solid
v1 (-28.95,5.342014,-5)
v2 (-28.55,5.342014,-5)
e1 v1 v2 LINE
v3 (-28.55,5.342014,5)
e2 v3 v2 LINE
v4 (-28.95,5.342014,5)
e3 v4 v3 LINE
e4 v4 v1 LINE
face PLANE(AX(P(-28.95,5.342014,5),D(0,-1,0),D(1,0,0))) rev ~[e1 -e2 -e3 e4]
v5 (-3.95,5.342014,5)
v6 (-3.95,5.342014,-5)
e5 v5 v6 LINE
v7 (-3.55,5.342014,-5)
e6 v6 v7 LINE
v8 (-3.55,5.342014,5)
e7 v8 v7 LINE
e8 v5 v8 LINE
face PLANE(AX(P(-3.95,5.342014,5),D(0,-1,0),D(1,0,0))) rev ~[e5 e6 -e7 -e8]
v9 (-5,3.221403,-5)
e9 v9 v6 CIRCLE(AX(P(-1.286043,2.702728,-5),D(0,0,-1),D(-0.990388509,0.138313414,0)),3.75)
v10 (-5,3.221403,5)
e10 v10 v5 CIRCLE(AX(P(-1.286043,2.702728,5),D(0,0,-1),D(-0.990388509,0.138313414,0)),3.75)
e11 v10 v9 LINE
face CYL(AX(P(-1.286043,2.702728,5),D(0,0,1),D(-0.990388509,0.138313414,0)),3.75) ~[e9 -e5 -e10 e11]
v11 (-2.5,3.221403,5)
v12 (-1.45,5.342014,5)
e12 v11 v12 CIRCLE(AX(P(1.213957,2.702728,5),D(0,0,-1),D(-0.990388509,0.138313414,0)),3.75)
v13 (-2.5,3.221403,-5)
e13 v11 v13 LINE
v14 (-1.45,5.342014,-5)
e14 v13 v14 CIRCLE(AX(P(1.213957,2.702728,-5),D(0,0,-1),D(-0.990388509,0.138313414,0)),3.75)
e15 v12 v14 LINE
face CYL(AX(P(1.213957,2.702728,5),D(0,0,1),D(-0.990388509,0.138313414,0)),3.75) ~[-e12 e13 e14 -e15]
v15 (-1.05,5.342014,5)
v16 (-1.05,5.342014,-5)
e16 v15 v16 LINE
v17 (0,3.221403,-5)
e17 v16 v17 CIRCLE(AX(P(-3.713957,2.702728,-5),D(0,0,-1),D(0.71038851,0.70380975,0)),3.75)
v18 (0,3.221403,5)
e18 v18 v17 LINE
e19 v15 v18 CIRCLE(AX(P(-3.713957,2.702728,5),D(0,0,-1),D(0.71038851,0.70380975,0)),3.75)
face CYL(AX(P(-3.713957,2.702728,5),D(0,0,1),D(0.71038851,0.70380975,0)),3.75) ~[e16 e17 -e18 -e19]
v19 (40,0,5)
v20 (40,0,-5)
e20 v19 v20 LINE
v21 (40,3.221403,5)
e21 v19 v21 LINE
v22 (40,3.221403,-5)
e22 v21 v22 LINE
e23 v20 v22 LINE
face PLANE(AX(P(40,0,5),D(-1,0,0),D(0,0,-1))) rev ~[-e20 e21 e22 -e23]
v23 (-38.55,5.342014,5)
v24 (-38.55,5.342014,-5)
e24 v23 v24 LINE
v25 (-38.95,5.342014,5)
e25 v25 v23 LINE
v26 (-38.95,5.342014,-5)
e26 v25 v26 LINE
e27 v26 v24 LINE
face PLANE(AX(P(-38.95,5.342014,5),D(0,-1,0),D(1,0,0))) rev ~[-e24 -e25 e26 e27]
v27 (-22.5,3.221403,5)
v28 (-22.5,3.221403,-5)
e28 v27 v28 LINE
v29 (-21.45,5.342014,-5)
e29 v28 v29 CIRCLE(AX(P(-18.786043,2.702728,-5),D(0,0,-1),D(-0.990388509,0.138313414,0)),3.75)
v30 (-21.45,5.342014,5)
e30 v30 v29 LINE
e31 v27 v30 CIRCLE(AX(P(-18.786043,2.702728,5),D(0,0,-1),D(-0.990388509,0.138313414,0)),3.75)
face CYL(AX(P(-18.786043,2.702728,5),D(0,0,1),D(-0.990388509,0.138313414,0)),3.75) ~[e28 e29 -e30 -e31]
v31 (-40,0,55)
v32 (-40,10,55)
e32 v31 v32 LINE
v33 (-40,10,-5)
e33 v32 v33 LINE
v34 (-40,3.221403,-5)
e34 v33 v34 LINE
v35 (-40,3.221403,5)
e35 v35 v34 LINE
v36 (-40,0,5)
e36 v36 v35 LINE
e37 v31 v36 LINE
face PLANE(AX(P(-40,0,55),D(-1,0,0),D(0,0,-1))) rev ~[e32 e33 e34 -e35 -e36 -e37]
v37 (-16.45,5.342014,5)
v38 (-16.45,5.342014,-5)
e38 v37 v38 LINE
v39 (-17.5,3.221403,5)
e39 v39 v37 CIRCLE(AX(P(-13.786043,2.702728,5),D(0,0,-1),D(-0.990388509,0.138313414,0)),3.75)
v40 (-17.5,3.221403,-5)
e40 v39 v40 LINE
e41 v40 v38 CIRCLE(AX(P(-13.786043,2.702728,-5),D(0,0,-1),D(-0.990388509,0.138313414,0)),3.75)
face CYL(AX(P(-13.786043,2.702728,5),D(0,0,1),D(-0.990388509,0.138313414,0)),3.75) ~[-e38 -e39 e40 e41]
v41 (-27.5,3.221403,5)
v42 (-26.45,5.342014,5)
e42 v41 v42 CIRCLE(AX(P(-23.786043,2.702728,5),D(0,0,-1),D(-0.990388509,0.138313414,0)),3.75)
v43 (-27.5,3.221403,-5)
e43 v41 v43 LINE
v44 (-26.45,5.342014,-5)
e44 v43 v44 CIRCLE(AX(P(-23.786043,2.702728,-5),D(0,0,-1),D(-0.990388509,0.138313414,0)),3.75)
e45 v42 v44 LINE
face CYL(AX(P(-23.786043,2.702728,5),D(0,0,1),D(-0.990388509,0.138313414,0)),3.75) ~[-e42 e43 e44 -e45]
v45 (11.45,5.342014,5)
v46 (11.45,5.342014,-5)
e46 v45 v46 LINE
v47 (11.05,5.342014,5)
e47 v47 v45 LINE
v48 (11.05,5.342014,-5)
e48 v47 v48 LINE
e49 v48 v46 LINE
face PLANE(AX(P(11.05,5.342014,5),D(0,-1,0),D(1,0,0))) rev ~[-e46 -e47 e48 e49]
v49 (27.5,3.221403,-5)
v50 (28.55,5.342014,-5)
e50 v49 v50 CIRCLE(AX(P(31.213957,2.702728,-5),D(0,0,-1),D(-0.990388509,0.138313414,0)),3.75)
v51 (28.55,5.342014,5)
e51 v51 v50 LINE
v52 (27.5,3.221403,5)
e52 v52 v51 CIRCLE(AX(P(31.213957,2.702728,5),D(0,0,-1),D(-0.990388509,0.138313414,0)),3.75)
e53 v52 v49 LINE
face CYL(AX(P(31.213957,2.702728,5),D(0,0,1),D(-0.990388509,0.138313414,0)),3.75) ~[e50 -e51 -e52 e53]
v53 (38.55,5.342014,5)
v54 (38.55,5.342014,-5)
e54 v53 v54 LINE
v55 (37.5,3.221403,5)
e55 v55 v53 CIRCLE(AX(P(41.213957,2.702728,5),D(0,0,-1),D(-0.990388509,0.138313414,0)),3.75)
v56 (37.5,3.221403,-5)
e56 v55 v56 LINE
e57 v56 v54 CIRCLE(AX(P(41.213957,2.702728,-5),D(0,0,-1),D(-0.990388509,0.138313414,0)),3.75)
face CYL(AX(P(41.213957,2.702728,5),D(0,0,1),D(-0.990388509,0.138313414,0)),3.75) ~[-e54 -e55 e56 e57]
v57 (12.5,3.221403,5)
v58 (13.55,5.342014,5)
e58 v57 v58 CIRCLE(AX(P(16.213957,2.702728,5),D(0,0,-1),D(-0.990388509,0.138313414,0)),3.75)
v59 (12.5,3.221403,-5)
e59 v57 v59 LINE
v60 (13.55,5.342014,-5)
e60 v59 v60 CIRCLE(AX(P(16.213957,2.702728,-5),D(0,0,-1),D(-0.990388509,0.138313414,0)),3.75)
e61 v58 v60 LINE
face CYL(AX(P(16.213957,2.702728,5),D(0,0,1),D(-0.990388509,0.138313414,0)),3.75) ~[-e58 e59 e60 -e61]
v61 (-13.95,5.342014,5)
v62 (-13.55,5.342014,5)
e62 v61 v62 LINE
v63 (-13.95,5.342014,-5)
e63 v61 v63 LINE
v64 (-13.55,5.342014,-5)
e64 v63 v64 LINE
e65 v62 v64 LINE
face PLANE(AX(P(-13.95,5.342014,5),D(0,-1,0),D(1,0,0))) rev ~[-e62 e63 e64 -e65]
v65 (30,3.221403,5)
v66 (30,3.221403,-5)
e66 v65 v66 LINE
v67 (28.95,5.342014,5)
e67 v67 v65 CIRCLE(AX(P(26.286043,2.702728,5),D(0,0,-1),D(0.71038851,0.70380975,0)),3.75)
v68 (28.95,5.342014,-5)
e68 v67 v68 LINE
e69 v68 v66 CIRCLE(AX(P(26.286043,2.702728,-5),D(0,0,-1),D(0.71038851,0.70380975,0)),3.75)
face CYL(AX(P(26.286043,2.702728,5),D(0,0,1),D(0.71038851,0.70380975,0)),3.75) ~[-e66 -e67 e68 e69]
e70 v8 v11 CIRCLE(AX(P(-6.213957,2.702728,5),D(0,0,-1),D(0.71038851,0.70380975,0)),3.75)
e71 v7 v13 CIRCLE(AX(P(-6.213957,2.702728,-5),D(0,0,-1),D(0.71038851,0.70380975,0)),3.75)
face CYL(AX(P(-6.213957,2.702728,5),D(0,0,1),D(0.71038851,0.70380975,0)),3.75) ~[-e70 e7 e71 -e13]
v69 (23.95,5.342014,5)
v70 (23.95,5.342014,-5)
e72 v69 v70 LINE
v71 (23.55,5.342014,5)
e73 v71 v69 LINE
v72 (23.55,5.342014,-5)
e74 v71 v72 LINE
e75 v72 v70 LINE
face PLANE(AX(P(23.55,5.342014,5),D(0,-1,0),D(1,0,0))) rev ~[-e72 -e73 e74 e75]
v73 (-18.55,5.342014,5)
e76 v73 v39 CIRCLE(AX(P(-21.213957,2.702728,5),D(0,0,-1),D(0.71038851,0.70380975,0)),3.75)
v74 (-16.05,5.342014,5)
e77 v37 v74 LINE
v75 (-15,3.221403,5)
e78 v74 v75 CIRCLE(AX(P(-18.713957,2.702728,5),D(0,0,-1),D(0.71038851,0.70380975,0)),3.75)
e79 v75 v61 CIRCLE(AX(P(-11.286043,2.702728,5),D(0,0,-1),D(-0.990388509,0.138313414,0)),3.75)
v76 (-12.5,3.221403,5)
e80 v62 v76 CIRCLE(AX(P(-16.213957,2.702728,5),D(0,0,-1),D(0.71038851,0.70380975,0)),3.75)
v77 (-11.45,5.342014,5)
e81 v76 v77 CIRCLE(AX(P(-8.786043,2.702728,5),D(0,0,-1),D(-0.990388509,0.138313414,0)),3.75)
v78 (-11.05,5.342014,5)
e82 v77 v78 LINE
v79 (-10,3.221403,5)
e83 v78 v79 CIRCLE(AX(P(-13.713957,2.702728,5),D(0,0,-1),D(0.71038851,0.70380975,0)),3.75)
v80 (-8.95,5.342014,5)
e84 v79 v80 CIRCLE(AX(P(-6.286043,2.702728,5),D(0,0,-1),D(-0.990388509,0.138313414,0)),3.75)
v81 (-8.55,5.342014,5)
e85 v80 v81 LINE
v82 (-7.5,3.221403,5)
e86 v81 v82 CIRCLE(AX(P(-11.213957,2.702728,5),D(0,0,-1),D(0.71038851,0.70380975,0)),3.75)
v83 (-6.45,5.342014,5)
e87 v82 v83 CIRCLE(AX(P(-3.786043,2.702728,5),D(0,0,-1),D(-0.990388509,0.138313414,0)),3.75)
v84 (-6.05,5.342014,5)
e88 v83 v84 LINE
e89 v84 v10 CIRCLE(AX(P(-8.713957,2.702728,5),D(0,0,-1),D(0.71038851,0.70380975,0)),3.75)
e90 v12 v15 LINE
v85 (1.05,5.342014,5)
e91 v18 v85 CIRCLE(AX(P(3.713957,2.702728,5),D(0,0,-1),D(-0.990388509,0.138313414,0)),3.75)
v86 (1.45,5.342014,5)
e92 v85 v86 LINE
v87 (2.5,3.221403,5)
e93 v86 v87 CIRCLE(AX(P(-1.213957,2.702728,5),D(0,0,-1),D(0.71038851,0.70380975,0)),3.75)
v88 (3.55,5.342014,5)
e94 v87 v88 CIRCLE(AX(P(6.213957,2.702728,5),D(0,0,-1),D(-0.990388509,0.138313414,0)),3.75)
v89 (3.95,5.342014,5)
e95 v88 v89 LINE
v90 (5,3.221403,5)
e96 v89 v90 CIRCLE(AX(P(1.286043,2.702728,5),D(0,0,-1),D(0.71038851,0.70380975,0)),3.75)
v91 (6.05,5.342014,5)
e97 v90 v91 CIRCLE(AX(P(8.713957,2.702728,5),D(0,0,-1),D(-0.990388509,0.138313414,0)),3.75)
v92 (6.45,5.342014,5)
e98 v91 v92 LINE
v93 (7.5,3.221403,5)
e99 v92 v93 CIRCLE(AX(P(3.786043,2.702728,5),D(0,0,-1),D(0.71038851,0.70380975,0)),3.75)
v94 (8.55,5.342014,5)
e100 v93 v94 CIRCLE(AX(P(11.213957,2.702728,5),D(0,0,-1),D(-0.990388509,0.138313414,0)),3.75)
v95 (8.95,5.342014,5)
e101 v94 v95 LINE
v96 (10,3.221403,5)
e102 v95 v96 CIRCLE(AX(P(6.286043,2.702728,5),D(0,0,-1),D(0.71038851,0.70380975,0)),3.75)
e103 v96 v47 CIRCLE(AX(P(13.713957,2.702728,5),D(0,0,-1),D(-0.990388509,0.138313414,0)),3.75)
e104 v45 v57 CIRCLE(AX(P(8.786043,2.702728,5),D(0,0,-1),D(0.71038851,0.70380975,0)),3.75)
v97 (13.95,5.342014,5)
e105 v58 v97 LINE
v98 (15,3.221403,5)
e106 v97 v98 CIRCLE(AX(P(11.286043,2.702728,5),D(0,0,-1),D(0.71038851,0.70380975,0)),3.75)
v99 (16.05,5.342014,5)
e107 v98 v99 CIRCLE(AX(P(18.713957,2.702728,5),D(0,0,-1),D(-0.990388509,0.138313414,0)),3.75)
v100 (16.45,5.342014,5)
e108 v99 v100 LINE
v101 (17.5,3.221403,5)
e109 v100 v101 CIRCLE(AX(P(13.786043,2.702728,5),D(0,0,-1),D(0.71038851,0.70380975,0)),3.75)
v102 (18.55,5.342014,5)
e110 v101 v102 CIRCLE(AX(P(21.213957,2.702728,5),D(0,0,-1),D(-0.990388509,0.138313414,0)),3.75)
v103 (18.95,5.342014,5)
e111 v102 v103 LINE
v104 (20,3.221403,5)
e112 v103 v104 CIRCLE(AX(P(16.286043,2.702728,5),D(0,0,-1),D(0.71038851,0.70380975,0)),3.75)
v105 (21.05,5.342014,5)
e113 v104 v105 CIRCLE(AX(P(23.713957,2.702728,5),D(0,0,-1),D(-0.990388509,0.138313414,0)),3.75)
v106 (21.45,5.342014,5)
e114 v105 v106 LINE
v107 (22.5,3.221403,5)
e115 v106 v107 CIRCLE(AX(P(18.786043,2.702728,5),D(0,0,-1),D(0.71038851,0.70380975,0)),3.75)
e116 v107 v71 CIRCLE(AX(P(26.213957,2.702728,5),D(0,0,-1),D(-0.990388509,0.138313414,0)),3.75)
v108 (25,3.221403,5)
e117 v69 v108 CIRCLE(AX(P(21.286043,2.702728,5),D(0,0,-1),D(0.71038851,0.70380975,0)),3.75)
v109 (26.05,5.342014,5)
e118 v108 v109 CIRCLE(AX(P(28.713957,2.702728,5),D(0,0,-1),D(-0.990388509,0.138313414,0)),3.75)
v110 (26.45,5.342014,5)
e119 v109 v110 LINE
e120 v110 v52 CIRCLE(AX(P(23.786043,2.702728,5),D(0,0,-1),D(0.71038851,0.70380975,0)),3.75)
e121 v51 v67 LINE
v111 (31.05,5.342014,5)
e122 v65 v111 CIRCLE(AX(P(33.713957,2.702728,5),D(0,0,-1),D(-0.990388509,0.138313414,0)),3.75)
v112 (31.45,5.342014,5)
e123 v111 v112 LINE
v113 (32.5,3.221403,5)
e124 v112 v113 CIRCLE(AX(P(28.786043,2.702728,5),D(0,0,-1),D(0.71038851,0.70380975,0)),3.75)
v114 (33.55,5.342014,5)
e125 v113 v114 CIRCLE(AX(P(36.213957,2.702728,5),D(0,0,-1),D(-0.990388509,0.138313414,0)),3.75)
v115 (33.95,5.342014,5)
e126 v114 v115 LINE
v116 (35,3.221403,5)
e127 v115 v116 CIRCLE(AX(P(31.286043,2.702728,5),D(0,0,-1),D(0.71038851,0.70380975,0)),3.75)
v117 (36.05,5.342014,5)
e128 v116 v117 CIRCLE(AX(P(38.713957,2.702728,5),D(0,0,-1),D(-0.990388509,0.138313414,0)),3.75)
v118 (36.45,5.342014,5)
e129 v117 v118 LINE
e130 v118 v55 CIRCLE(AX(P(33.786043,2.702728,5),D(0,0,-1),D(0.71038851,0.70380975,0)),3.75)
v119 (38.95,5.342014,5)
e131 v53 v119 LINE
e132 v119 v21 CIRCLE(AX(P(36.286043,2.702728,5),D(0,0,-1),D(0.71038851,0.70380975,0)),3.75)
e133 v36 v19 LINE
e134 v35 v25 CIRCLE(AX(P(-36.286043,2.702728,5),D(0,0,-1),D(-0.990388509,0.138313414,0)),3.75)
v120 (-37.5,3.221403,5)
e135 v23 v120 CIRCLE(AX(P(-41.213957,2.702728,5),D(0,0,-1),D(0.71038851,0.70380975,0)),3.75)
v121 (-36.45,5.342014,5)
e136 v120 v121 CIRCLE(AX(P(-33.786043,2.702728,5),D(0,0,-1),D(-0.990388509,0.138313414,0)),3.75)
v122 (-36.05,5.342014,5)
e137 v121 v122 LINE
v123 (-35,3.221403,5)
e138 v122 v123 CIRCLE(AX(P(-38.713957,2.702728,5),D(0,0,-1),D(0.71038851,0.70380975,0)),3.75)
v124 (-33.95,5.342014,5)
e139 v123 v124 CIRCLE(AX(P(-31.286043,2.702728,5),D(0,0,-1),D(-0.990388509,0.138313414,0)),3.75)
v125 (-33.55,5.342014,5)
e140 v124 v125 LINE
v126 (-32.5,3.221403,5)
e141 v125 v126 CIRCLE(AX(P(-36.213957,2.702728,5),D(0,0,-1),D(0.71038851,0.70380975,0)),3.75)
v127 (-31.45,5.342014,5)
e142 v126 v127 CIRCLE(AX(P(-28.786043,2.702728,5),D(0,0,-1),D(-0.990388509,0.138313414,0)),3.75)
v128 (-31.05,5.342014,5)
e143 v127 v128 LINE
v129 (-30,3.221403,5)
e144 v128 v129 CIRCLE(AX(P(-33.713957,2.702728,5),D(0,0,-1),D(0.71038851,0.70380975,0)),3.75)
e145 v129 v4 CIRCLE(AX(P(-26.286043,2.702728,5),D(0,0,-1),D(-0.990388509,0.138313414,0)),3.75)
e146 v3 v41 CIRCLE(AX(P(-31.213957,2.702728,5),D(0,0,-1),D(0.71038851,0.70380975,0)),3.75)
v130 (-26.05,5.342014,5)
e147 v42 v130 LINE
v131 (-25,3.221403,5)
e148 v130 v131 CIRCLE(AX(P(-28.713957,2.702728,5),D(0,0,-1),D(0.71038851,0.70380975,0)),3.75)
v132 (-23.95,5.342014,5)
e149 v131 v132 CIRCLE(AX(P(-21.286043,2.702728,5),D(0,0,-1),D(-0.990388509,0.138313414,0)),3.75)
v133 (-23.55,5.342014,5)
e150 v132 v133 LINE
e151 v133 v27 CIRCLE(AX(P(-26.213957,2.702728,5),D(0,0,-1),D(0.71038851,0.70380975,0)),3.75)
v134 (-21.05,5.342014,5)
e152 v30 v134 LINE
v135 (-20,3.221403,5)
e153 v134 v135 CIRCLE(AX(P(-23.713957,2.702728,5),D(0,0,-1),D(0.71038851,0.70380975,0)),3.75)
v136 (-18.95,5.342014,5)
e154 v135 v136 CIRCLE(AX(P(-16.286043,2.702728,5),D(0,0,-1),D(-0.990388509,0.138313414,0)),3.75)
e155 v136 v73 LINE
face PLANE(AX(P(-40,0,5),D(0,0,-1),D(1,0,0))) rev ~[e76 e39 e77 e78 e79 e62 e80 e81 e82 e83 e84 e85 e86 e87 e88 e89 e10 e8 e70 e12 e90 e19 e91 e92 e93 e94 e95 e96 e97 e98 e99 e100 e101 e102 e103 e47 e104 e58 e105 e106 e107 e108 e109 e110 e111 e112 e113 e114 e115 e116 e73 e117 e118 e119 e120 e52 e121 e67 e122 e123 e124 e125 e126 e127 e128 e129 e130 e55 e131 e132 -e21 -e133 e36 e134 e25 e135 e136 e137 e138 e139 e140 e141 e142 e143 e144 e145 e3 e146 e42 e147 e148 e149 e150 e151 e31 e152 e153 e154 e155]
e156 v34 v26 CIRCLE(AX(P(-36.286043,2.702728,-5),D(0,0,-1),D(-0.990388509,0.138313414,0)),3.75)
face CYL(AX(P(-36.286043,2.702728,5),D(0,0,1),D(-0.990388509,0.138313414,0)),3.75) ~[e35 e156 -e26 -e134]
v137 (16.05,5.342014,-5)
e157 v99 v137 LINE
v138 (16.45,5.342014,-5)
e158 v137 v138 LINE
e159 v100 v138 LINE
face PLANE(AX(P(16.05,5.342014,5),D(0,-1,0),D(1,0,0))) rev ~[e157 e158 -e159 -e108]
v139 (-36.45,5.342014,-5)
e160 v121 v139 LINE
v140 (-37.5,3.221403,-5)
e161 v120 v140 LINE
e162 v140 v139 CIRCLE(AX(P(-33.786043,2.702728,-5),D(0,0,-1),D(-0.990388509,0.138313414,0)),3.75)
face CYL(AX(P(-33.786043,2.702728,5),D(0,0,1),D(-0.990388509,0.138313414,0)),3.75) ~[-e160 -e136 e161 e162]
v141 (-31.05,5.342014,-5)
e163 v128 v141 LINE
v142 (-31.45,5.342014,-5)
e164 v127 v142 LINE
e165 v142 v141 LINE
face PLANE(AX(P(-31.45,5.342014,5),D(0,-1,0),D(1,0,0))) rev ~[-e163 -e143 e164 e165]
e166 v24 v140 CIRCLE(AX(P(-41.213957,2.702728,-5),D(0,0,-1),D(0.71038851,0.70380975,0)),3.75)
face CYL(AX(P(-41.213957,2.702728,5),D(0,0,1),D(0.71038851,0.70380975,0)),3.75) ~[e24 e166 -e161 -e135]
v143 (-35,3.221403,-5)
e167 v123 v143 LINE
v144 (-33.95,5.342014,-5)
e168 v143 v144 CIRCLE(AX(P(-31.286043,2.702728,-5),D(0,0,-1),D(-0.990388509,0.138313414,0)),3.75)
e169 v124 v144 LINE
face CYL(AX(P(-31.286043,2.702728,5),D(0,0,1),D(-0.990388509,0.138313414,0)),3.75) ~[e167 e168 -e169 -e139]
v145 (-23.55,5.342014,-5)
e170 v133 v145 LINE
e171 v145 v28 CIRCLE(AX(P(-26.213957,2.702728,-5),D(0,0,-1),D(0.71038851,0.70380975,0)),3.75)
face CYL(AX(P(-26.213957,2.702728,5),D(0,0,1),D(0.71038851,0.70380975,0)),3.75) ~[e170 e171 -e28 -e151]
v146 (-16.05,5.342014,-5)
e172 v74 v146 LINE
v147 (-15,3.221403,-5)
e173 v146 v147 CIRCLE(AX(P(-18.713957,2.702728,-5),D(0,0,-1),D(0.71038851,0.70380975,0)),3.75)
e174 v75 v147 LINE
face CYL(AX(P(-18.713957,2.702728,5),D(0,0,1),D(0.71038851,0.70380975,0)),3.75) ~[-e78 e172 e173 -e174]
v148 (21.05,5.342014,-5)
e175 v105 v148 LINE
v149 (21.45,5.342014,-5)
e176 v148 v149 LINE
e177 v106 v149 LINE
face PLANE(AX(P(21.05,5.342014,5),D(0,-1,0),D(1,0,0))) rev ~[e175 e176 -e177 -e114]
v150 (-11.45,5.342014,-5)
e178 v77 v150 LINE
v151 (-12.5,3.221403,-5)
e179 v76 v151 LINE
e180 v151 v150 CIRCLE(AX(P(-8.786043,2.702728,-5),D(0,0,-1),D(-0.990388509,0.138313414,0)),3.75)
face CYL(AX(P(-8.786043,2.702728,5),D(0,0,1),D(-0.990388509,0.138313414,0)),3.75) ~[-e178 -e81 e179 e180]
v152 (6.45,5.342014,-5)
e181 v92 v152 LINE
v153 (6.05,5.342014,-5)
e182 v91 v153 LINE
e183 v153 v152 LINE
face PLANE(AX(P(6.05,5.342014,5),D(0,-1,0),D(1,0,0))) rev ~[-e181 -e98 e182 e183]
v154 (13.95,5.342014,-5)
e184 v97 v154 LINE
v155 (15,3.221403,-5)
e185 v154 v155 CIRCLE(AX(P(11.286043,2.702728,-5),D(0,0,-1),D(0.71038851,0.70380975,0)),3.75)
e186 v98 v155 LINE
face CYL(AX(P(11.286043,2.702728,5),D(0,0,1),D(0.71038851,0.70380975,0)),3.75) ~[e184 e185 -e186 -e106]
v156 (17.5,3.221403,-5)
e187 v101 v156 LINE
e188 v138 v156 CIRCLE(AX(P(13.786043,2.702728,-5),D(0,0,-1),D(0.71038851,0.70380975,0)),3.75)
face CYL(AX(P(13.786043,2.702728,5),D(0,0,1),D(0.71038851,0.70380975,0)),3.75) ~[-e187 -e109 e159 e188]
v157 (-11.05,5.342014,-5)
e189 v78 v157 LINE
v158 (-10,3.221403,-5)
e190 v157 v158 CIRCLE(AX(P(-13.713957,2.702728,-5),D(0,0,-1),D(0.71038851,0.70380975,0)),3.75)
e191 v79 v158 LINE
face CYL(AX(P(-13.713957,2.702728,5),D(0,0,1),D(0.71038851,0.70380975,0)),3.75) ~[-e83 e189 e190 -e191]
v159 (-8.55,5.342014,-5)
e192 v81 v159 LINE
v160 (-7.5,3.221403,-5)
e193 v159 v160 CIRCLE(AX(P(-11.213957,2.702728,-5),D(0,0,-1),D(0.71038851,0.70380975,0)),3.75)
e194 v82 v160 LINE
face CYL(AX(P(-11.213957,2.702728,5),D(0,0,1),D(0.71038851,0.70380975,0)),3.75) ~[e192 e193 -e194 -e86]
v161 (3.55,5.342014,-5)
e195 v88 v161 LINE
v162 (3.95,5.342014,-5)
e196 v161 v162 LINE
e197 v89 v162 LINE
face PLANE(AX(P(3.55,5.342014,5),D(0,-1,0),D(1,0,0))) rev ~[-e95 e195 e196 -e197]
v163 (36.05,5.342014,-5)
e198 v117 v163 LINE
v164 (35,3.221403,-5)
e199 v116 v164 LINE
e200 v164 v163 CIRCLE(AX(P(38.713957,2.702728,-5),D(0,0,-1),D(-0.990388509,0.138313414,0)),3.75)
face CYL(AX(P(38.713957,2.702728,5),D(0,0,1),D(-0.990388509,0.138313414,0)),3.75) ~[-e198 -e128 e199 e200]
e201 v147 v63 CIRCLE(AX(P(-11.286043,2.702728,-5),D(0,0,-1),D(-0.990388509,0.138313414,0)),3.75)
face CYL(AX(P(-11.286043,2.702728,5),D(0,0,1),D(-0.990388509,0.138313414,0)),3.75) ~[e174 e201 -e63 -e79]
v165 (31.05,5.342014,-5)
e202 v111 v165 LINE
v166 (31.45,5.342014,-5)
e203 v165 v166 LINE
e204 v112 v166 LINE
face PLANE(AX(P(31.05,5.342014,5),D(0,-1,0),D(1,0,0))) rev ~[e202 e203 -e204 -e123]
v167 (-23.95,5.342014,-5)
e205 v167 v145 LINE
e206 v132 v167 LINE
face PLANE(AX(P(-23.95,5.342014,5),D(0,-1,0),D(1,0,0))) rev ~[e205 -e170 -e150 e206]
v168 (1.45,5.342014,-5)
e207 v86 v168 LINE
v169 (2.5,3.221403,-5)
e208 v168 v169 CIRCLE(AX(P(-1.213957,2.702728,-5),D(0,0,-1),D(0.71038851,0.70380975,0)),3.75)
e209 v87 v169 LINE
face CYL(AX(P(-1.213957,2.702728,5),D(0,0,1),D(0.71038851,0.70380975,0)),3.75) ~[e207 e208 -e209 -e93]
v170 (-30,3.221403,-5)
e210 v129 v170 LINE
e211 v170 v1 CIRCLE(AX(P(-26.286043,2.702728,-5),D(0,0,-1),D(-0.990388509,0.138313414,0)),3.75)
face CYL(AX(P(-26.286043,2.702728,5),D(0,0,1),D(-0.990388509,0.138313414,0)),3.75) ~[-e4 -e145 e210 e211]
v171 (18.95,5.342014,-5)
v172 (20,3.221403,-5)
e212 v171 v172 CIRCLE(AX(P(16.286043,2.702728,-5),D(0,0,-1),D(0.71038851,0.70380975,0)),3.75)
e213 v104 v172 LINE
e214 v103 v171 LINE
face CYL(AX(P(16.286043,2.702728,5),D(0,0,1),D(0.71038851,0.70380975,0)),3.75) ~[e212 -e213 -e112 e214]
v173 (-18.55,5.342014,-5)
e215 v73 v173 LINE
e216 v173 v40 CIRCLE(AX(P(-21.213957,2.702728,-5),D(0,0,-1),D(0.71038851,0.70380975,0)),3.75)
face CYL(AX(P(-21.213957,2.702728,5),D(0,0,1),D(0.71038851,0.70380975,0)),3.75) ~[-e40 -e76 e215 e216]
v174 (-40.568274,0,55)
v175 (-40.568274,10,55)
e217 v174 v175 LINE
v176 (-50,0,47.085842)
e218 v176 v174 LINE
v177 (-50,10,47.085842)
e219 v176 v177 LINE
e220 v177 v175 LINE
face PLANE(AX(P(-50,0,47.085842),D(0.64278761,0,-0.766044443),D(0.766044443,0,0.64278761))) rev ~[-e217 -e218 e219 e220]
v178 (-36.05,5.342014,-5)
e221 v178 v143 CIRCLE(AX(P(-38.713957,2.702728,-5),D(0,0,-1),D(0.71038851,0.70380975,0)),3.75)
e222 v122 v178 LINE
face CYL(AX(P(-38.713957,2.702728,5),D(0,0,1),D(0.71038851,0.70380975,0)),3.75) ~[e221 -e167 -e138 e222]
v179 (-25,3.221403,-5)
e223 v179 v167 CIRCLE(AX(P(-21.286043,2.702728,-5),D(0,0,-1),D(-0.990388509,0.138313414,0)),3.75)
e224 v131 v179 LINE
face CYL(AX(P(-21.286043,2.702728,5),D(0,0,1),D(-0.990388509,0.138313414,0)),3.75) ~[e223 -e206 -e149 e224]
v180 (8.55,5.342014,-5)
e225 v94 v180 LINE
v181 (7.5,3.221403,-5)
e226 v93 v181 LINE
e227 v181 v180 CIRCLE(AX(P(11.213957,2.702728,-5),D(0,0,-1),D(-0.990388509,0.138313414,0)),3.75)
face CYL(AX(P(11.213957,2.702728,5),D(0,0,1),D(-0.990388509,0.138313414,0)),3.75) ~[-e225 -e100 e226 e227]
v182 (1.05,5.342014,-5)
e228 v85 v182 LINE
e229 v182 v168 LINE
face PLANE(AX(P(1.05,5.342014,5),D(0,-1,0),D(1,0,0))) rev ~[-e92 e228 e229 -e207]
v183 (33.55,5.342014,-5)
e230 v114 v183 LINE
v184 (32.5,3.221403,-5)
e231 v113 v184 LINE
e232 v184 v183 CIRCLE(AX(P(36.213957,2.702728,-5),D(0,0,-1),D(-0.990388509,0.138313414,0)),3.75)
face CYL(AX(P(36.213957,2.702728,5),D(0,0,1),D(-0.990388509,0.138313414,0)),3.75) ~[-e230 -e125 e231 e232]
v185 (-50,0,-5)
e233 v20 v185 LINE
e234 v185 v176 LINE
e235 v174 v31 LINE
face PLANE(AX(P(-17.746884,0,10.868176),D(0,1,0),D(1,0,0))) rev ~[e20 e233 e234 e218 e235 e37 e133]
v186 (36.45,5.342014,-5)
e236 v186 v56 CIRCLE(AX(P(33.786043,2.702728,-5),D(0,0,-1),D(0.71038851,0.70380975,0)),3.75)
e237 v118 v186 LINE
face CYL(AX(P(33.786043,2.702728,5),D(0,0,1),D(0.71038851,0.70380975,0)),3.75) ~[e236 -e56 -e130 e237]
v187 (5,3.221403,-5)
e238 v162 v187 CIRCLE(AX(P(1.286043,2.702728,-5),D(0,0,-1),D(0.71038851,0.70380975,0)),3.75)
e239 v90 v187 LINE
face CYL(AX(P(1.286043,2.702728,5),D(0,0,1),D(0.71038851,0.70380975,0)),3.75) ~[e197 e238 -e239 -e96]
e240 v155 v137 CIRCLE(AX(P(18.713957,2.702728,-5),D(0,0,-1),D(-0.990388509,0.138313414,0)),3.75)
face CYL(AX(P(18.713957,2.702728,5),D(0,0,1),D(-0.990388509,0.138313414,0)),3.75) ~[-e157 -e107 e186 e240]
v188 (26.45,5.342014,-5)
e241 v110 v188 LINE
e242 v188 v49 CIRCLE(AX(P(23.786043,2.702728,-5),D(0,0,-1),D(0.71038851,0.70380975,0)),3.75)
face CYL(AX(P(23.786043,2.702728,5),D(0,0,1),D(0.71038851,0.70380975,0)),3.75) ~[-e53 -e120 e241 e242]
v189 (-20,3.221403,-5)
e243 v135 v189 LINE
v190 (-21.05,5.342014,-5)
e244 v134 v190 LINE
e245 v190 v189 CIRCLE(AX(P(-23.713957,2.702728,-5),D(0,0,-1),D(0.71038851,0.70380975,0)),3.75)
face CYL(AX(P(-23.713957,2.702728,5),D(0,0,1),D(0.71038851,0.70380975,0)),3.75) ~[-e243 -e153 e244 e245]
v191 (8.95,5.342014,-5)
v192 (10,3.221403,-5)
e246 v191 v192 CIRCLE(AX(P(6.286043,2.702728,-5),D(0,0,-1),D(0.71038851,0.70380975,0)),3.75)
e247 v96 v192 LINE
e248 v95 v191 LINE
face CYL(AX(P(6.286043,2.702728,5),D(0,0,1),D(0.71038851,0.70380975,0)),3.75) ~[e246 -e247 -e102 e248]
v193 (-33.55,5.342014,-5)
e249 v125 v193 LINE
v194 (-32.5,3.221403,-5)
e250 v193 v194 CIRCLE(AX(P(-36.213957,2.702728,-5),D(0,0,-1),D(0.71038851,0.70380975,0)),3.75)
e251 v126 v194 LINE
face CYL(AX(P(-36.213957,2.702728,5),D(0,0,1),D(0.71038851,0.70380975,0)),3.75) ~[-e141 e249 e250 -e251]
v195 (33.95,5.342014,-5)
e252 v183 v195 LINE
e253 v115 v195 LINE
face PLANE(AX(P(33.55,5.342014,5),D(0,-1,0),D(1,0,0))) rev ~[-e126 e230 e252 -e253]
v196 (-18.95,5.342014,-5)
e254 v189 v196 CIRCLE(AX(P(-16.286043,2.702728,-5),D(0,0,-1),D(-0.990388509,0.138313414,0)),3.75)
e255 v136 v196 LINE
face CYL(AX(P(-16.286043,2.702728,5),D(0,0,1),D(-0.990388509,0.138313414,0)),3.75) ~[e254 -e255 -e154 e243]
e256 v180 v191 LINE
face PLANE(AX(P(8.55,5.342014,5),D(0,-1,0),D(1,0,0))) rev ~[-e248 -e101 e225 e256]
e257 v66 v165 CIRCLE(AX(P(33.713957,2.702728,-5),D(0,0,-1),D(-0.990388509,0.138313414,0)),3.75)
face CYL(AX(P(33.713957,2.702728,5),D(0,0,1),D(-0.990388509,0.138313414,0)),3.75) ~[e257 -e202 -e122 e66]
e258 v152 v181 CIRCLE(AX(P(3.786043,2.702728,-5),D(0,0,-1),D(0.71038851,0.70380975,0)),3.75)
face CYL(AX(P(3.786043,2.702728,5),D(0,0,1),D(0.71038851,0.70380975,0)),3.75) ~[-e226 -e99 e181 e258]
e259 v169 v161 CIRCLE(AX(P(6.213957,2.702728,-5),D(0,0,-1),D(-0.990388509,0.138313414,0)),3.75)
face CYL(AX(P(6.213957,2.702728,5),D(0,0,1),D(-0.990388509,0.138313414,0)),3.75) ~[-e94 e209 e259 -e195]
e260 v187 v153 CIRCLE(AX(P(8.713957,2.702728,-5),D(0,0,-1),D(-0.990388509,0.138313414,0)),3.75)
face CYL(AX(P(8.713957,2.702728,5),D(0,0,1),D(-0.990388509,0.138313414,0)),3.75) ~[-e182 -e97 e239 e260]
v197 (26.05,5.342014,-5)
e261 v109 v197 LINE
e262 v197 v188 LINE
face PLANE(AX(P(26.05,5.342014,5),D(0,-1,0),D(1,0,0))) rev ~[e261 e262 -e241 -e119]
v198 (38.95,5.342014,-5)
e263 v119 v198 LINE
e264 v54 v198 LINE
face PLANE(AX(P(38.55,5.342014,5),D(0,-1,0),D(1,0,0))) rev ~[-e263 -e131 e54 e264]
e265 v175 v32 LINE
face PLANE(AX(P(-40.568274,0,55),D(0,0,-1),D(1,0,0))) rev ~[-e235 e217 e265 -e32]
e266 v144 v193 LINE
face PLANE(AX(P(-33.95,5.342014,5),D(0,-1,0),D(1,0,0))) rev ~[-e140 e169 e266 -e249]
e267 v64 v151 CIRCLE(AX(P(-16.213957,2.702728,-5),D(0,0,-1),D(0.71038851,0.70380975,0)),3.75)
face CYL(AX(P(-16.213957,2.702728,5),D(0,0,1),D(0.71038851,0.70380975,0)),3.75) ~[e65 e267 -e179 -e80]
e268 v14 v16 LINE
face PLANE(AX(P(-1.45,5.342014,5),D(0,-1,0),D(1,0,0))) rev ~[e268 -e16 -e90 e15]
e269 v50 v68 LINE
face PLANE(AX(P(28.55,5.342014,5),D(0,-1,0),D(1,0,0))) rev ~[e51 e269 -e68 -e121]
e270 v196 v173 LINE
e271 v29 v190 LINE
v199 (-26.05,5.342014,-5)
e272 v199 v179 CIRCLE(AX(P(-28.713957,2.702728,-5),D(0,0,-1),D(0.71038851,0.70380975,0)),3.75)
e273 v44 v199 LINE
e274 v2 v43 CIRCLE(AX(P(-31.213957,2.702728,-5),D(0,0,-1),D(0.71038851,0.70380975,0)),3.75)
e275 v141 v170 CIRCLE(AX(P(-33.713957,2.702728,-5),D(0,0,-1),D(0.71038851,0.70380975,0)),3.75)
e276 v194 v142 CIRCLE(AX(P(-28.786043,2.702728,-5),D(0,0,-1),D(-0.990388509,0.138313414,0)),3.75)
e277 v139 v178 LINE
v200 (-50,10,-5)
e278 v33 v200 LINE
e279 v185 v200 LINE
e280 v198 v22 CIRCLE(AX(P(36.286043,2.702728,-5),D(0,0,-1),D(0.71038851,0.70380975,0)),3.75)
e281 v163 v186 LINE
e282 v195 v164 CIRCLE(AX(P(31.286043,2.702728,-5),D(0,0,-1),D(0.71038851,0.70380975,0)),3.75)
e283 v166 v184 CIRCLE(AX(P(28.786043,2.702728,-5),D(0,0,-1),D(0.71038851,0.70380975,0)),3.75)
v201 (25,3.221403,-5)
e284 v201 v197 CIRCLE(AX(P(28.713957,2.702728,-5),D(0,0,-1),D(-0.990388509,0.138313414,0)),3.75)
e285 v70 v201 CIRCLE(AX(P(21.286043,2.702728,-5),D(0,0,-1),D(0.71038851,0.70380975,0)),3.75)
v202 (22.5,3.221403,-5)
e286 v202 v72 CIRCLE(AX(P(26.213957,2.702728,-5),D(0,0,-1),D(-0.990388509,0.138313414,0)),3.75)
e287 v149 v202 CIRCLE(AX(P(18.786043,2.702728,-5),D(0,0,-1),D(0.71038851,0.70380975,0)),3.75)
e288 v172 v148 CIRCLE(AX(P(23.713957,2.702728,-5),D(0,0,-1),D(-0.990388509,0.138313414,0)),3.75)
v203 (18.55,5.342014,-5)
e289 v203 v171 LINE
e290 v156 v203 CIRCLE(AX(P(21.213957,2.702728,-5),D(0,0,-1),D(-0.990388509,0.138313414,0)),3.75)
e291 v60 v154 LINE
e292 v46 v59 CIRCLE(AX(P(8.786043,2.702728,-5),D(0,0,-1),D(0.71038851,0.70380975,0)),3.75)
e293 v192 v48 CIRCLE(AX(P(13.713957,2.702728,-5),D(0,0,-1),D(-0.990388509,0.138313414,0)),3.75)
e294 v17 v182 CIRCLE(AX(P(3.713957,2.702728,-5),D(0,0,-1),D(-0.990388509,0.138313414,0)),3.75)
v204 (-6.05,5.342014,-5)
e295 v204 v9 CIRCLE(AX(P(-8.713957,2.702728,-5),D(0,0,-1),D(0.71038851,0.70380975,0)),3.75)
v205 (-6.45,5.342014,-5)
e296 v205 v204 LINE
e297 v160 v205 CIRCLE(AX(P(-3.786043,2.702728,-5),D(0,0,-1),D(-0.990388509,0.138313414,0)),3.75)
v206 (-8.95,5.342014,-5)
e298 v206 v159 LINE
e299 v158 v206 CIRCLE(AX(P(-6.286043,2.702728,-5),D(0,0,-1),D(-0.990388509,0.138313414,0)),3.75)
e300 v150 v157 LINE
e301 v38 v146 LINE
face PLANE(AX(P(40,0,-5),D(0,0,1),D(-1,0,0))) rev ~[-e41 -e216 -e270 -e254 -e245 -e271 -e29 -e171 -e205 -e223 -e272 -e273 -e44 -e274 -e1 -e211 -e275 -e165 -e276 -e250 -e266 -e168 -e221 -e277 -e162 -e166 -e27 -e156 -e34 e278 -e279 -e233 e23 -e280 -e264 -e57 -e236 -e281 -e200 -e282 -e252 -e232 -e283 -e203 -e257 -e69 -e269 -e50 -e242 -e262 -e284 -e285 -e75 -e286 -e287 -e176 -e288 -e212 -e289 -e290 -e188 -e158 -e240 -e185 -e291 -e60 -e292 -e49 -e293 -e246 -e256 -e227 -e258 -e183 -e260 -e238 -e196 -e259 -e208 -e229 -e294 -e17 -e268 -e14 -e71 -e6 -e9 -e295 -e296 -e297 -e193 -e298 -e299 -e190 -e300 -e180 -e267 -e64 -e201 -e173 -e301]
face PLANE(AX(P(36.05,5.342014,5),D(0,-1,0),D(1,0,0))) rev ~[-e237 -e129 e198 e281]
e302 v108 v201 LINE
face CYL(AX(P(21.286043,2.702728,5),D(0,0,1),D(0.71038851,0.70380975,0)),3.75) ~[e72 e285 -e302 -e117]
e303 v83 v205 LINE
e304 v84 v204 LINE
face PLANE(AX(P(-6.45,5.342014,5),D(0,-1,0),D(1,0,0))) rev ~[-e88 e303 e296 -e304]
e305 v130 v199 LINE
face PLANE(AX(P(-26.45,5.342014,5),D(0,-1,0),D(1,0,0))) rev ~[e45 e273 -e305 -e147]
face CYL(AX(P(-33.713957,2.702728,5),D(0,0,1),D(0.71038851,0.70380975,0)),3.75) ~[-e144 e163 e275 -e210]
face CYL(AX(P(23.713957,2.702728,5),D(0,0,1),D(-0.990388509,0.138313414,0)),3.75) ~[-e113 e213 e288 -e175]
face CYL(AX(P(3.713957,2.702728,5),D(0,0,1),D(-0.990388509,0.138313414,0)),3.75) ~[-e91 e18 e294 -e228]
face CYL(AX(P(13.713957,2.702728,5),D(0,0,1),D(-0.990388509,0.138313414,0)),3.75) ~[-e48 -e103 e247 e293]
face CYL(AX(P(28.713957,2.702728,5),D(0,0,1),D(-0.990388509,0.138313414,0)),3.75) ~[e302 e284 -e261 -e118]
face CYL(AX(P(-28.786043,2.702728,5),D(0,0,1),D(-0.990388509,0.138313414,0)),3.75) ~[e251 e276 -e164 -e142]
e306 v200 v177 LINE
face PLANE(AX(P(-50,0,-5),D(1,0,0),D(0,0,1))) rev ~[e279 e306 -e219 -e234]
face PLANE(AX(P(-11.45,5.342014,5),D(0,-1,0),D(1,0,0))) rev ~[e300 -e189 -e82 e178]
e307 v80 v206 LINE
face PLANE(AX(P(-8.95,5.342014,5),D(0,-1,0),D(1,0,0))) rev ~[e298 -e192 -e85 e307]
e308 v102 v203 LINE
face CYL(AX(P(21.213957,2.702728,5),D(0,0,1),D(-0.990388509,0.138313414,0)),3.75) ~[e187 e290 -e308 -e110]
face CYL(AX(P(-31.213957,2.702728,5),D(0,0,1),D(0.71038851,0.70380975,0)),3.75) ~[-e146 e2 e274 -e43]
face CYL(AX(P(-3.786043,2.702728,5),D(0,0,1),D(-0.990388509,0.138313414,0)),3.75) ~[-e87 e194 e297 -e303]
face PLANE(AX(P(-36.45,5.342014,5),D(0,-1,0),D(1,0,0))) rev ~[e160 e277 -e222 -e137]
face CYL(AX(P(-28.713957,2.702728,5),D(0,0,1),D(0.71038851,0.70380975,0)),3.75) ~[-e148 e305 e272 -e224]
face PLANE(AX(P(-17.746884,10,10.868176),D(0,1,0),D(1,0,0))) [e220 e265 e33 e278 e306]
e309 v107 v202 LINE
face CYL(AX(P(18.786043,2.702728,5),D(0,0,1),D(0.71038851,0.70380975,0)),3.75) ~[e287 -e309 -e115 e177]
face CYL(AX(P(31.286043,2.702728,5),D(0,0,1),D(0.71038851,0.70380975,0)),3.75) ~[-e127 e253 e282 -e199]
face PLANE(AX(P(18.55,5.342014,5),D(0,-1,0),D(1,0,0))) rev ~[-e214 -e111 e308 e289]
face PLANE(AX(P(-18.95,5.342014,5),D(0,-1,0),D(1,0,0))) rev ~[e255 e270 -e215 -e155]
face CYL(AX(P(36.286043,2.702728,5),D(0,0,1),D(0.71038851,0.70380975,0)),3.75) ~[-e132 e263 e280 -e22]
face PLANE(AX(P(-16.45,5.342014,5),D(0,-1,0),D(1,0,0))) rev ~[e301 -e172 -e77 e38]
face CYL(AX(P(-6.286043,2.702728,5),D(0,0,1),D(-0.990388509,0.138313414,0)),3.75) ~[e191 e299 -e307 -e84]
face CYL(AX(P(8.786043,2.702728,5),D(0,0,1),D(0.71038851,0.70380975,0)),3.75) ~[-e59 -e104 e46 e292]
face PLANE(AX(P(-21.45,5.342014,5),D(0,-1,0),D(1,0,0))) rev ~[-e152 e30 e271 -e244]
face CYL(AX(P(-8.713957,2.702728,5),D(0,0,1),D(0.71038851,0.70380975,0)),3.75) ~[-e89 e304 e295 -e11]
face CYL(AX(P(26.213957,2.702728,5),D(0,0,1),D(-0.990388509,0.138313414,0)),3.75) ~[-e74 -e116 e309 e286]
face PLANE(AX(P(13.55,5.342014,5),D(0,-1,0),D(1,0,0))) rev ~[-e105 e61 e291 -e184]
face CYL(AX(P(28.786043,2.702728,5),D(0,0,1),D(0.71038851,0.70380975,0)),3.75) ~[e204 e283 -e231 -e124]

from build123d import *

# Parameters (mm, degrees)
BOSS_EXTRUDE1_DEPTH = 10
CUT_EXTRUDE4_DEPTH  = 10
LPATTERN2_COUNT     = 32
LPATTERN2_PITCH     = 2.5


with BuildPart() as part:
    # Sketch1 → Boss-Extrude1 (new body)
    with BuildSketch(Plane(origin=(0, 0, 0), x_dir=(1, 0, 0), z_dir=(0, 1, 0))):
        Polygon((-50, -47.085841971), (-40.568273737, -55), (-40, -55), (-40, -5), (40, -5), (40, 5), (-40, 5), (-50, 5), align=None)
    extrude(amount=BOSS_EXTRUDE1_DEPTH)

    # Sketch5 → Cut-Extrude4 (cut)
    with BuildSketch(Plane.XY.offset(5)):
        with BuildLine():
            Line((40, 10), (37.5, 10))
            Line((37.5, 10), (37.5, 3.221403126))
            ThreePointArc((37.5, 3.221403126), (37.853347708, 4.366700719), (38.55, 5.342014394))
            Line((38.55, 5.342014394), (38.95, 5.342014394))
            ThreePointArc((38.95, 5.342014394), (39.646652292, 4.366700719), (40, 3.221403126))
            Line((40, 3.221403126), (40, 10))
        make_face()
    cut_extrude4 = extrude(amount=-CUT_EXTRUDE4_DEPTH, mode=Mode.SUBTRACT)

    # LPattern2: Cut-Extrude4 ×32
    with Locations(*[(-i * LPATTERN2_PITCH, 0, 0) for i in range(1, LPATTERN2_COUNT)]):
        add(cut_extrude4, mode=Mode.SUBTRACT)


solid = part.part
